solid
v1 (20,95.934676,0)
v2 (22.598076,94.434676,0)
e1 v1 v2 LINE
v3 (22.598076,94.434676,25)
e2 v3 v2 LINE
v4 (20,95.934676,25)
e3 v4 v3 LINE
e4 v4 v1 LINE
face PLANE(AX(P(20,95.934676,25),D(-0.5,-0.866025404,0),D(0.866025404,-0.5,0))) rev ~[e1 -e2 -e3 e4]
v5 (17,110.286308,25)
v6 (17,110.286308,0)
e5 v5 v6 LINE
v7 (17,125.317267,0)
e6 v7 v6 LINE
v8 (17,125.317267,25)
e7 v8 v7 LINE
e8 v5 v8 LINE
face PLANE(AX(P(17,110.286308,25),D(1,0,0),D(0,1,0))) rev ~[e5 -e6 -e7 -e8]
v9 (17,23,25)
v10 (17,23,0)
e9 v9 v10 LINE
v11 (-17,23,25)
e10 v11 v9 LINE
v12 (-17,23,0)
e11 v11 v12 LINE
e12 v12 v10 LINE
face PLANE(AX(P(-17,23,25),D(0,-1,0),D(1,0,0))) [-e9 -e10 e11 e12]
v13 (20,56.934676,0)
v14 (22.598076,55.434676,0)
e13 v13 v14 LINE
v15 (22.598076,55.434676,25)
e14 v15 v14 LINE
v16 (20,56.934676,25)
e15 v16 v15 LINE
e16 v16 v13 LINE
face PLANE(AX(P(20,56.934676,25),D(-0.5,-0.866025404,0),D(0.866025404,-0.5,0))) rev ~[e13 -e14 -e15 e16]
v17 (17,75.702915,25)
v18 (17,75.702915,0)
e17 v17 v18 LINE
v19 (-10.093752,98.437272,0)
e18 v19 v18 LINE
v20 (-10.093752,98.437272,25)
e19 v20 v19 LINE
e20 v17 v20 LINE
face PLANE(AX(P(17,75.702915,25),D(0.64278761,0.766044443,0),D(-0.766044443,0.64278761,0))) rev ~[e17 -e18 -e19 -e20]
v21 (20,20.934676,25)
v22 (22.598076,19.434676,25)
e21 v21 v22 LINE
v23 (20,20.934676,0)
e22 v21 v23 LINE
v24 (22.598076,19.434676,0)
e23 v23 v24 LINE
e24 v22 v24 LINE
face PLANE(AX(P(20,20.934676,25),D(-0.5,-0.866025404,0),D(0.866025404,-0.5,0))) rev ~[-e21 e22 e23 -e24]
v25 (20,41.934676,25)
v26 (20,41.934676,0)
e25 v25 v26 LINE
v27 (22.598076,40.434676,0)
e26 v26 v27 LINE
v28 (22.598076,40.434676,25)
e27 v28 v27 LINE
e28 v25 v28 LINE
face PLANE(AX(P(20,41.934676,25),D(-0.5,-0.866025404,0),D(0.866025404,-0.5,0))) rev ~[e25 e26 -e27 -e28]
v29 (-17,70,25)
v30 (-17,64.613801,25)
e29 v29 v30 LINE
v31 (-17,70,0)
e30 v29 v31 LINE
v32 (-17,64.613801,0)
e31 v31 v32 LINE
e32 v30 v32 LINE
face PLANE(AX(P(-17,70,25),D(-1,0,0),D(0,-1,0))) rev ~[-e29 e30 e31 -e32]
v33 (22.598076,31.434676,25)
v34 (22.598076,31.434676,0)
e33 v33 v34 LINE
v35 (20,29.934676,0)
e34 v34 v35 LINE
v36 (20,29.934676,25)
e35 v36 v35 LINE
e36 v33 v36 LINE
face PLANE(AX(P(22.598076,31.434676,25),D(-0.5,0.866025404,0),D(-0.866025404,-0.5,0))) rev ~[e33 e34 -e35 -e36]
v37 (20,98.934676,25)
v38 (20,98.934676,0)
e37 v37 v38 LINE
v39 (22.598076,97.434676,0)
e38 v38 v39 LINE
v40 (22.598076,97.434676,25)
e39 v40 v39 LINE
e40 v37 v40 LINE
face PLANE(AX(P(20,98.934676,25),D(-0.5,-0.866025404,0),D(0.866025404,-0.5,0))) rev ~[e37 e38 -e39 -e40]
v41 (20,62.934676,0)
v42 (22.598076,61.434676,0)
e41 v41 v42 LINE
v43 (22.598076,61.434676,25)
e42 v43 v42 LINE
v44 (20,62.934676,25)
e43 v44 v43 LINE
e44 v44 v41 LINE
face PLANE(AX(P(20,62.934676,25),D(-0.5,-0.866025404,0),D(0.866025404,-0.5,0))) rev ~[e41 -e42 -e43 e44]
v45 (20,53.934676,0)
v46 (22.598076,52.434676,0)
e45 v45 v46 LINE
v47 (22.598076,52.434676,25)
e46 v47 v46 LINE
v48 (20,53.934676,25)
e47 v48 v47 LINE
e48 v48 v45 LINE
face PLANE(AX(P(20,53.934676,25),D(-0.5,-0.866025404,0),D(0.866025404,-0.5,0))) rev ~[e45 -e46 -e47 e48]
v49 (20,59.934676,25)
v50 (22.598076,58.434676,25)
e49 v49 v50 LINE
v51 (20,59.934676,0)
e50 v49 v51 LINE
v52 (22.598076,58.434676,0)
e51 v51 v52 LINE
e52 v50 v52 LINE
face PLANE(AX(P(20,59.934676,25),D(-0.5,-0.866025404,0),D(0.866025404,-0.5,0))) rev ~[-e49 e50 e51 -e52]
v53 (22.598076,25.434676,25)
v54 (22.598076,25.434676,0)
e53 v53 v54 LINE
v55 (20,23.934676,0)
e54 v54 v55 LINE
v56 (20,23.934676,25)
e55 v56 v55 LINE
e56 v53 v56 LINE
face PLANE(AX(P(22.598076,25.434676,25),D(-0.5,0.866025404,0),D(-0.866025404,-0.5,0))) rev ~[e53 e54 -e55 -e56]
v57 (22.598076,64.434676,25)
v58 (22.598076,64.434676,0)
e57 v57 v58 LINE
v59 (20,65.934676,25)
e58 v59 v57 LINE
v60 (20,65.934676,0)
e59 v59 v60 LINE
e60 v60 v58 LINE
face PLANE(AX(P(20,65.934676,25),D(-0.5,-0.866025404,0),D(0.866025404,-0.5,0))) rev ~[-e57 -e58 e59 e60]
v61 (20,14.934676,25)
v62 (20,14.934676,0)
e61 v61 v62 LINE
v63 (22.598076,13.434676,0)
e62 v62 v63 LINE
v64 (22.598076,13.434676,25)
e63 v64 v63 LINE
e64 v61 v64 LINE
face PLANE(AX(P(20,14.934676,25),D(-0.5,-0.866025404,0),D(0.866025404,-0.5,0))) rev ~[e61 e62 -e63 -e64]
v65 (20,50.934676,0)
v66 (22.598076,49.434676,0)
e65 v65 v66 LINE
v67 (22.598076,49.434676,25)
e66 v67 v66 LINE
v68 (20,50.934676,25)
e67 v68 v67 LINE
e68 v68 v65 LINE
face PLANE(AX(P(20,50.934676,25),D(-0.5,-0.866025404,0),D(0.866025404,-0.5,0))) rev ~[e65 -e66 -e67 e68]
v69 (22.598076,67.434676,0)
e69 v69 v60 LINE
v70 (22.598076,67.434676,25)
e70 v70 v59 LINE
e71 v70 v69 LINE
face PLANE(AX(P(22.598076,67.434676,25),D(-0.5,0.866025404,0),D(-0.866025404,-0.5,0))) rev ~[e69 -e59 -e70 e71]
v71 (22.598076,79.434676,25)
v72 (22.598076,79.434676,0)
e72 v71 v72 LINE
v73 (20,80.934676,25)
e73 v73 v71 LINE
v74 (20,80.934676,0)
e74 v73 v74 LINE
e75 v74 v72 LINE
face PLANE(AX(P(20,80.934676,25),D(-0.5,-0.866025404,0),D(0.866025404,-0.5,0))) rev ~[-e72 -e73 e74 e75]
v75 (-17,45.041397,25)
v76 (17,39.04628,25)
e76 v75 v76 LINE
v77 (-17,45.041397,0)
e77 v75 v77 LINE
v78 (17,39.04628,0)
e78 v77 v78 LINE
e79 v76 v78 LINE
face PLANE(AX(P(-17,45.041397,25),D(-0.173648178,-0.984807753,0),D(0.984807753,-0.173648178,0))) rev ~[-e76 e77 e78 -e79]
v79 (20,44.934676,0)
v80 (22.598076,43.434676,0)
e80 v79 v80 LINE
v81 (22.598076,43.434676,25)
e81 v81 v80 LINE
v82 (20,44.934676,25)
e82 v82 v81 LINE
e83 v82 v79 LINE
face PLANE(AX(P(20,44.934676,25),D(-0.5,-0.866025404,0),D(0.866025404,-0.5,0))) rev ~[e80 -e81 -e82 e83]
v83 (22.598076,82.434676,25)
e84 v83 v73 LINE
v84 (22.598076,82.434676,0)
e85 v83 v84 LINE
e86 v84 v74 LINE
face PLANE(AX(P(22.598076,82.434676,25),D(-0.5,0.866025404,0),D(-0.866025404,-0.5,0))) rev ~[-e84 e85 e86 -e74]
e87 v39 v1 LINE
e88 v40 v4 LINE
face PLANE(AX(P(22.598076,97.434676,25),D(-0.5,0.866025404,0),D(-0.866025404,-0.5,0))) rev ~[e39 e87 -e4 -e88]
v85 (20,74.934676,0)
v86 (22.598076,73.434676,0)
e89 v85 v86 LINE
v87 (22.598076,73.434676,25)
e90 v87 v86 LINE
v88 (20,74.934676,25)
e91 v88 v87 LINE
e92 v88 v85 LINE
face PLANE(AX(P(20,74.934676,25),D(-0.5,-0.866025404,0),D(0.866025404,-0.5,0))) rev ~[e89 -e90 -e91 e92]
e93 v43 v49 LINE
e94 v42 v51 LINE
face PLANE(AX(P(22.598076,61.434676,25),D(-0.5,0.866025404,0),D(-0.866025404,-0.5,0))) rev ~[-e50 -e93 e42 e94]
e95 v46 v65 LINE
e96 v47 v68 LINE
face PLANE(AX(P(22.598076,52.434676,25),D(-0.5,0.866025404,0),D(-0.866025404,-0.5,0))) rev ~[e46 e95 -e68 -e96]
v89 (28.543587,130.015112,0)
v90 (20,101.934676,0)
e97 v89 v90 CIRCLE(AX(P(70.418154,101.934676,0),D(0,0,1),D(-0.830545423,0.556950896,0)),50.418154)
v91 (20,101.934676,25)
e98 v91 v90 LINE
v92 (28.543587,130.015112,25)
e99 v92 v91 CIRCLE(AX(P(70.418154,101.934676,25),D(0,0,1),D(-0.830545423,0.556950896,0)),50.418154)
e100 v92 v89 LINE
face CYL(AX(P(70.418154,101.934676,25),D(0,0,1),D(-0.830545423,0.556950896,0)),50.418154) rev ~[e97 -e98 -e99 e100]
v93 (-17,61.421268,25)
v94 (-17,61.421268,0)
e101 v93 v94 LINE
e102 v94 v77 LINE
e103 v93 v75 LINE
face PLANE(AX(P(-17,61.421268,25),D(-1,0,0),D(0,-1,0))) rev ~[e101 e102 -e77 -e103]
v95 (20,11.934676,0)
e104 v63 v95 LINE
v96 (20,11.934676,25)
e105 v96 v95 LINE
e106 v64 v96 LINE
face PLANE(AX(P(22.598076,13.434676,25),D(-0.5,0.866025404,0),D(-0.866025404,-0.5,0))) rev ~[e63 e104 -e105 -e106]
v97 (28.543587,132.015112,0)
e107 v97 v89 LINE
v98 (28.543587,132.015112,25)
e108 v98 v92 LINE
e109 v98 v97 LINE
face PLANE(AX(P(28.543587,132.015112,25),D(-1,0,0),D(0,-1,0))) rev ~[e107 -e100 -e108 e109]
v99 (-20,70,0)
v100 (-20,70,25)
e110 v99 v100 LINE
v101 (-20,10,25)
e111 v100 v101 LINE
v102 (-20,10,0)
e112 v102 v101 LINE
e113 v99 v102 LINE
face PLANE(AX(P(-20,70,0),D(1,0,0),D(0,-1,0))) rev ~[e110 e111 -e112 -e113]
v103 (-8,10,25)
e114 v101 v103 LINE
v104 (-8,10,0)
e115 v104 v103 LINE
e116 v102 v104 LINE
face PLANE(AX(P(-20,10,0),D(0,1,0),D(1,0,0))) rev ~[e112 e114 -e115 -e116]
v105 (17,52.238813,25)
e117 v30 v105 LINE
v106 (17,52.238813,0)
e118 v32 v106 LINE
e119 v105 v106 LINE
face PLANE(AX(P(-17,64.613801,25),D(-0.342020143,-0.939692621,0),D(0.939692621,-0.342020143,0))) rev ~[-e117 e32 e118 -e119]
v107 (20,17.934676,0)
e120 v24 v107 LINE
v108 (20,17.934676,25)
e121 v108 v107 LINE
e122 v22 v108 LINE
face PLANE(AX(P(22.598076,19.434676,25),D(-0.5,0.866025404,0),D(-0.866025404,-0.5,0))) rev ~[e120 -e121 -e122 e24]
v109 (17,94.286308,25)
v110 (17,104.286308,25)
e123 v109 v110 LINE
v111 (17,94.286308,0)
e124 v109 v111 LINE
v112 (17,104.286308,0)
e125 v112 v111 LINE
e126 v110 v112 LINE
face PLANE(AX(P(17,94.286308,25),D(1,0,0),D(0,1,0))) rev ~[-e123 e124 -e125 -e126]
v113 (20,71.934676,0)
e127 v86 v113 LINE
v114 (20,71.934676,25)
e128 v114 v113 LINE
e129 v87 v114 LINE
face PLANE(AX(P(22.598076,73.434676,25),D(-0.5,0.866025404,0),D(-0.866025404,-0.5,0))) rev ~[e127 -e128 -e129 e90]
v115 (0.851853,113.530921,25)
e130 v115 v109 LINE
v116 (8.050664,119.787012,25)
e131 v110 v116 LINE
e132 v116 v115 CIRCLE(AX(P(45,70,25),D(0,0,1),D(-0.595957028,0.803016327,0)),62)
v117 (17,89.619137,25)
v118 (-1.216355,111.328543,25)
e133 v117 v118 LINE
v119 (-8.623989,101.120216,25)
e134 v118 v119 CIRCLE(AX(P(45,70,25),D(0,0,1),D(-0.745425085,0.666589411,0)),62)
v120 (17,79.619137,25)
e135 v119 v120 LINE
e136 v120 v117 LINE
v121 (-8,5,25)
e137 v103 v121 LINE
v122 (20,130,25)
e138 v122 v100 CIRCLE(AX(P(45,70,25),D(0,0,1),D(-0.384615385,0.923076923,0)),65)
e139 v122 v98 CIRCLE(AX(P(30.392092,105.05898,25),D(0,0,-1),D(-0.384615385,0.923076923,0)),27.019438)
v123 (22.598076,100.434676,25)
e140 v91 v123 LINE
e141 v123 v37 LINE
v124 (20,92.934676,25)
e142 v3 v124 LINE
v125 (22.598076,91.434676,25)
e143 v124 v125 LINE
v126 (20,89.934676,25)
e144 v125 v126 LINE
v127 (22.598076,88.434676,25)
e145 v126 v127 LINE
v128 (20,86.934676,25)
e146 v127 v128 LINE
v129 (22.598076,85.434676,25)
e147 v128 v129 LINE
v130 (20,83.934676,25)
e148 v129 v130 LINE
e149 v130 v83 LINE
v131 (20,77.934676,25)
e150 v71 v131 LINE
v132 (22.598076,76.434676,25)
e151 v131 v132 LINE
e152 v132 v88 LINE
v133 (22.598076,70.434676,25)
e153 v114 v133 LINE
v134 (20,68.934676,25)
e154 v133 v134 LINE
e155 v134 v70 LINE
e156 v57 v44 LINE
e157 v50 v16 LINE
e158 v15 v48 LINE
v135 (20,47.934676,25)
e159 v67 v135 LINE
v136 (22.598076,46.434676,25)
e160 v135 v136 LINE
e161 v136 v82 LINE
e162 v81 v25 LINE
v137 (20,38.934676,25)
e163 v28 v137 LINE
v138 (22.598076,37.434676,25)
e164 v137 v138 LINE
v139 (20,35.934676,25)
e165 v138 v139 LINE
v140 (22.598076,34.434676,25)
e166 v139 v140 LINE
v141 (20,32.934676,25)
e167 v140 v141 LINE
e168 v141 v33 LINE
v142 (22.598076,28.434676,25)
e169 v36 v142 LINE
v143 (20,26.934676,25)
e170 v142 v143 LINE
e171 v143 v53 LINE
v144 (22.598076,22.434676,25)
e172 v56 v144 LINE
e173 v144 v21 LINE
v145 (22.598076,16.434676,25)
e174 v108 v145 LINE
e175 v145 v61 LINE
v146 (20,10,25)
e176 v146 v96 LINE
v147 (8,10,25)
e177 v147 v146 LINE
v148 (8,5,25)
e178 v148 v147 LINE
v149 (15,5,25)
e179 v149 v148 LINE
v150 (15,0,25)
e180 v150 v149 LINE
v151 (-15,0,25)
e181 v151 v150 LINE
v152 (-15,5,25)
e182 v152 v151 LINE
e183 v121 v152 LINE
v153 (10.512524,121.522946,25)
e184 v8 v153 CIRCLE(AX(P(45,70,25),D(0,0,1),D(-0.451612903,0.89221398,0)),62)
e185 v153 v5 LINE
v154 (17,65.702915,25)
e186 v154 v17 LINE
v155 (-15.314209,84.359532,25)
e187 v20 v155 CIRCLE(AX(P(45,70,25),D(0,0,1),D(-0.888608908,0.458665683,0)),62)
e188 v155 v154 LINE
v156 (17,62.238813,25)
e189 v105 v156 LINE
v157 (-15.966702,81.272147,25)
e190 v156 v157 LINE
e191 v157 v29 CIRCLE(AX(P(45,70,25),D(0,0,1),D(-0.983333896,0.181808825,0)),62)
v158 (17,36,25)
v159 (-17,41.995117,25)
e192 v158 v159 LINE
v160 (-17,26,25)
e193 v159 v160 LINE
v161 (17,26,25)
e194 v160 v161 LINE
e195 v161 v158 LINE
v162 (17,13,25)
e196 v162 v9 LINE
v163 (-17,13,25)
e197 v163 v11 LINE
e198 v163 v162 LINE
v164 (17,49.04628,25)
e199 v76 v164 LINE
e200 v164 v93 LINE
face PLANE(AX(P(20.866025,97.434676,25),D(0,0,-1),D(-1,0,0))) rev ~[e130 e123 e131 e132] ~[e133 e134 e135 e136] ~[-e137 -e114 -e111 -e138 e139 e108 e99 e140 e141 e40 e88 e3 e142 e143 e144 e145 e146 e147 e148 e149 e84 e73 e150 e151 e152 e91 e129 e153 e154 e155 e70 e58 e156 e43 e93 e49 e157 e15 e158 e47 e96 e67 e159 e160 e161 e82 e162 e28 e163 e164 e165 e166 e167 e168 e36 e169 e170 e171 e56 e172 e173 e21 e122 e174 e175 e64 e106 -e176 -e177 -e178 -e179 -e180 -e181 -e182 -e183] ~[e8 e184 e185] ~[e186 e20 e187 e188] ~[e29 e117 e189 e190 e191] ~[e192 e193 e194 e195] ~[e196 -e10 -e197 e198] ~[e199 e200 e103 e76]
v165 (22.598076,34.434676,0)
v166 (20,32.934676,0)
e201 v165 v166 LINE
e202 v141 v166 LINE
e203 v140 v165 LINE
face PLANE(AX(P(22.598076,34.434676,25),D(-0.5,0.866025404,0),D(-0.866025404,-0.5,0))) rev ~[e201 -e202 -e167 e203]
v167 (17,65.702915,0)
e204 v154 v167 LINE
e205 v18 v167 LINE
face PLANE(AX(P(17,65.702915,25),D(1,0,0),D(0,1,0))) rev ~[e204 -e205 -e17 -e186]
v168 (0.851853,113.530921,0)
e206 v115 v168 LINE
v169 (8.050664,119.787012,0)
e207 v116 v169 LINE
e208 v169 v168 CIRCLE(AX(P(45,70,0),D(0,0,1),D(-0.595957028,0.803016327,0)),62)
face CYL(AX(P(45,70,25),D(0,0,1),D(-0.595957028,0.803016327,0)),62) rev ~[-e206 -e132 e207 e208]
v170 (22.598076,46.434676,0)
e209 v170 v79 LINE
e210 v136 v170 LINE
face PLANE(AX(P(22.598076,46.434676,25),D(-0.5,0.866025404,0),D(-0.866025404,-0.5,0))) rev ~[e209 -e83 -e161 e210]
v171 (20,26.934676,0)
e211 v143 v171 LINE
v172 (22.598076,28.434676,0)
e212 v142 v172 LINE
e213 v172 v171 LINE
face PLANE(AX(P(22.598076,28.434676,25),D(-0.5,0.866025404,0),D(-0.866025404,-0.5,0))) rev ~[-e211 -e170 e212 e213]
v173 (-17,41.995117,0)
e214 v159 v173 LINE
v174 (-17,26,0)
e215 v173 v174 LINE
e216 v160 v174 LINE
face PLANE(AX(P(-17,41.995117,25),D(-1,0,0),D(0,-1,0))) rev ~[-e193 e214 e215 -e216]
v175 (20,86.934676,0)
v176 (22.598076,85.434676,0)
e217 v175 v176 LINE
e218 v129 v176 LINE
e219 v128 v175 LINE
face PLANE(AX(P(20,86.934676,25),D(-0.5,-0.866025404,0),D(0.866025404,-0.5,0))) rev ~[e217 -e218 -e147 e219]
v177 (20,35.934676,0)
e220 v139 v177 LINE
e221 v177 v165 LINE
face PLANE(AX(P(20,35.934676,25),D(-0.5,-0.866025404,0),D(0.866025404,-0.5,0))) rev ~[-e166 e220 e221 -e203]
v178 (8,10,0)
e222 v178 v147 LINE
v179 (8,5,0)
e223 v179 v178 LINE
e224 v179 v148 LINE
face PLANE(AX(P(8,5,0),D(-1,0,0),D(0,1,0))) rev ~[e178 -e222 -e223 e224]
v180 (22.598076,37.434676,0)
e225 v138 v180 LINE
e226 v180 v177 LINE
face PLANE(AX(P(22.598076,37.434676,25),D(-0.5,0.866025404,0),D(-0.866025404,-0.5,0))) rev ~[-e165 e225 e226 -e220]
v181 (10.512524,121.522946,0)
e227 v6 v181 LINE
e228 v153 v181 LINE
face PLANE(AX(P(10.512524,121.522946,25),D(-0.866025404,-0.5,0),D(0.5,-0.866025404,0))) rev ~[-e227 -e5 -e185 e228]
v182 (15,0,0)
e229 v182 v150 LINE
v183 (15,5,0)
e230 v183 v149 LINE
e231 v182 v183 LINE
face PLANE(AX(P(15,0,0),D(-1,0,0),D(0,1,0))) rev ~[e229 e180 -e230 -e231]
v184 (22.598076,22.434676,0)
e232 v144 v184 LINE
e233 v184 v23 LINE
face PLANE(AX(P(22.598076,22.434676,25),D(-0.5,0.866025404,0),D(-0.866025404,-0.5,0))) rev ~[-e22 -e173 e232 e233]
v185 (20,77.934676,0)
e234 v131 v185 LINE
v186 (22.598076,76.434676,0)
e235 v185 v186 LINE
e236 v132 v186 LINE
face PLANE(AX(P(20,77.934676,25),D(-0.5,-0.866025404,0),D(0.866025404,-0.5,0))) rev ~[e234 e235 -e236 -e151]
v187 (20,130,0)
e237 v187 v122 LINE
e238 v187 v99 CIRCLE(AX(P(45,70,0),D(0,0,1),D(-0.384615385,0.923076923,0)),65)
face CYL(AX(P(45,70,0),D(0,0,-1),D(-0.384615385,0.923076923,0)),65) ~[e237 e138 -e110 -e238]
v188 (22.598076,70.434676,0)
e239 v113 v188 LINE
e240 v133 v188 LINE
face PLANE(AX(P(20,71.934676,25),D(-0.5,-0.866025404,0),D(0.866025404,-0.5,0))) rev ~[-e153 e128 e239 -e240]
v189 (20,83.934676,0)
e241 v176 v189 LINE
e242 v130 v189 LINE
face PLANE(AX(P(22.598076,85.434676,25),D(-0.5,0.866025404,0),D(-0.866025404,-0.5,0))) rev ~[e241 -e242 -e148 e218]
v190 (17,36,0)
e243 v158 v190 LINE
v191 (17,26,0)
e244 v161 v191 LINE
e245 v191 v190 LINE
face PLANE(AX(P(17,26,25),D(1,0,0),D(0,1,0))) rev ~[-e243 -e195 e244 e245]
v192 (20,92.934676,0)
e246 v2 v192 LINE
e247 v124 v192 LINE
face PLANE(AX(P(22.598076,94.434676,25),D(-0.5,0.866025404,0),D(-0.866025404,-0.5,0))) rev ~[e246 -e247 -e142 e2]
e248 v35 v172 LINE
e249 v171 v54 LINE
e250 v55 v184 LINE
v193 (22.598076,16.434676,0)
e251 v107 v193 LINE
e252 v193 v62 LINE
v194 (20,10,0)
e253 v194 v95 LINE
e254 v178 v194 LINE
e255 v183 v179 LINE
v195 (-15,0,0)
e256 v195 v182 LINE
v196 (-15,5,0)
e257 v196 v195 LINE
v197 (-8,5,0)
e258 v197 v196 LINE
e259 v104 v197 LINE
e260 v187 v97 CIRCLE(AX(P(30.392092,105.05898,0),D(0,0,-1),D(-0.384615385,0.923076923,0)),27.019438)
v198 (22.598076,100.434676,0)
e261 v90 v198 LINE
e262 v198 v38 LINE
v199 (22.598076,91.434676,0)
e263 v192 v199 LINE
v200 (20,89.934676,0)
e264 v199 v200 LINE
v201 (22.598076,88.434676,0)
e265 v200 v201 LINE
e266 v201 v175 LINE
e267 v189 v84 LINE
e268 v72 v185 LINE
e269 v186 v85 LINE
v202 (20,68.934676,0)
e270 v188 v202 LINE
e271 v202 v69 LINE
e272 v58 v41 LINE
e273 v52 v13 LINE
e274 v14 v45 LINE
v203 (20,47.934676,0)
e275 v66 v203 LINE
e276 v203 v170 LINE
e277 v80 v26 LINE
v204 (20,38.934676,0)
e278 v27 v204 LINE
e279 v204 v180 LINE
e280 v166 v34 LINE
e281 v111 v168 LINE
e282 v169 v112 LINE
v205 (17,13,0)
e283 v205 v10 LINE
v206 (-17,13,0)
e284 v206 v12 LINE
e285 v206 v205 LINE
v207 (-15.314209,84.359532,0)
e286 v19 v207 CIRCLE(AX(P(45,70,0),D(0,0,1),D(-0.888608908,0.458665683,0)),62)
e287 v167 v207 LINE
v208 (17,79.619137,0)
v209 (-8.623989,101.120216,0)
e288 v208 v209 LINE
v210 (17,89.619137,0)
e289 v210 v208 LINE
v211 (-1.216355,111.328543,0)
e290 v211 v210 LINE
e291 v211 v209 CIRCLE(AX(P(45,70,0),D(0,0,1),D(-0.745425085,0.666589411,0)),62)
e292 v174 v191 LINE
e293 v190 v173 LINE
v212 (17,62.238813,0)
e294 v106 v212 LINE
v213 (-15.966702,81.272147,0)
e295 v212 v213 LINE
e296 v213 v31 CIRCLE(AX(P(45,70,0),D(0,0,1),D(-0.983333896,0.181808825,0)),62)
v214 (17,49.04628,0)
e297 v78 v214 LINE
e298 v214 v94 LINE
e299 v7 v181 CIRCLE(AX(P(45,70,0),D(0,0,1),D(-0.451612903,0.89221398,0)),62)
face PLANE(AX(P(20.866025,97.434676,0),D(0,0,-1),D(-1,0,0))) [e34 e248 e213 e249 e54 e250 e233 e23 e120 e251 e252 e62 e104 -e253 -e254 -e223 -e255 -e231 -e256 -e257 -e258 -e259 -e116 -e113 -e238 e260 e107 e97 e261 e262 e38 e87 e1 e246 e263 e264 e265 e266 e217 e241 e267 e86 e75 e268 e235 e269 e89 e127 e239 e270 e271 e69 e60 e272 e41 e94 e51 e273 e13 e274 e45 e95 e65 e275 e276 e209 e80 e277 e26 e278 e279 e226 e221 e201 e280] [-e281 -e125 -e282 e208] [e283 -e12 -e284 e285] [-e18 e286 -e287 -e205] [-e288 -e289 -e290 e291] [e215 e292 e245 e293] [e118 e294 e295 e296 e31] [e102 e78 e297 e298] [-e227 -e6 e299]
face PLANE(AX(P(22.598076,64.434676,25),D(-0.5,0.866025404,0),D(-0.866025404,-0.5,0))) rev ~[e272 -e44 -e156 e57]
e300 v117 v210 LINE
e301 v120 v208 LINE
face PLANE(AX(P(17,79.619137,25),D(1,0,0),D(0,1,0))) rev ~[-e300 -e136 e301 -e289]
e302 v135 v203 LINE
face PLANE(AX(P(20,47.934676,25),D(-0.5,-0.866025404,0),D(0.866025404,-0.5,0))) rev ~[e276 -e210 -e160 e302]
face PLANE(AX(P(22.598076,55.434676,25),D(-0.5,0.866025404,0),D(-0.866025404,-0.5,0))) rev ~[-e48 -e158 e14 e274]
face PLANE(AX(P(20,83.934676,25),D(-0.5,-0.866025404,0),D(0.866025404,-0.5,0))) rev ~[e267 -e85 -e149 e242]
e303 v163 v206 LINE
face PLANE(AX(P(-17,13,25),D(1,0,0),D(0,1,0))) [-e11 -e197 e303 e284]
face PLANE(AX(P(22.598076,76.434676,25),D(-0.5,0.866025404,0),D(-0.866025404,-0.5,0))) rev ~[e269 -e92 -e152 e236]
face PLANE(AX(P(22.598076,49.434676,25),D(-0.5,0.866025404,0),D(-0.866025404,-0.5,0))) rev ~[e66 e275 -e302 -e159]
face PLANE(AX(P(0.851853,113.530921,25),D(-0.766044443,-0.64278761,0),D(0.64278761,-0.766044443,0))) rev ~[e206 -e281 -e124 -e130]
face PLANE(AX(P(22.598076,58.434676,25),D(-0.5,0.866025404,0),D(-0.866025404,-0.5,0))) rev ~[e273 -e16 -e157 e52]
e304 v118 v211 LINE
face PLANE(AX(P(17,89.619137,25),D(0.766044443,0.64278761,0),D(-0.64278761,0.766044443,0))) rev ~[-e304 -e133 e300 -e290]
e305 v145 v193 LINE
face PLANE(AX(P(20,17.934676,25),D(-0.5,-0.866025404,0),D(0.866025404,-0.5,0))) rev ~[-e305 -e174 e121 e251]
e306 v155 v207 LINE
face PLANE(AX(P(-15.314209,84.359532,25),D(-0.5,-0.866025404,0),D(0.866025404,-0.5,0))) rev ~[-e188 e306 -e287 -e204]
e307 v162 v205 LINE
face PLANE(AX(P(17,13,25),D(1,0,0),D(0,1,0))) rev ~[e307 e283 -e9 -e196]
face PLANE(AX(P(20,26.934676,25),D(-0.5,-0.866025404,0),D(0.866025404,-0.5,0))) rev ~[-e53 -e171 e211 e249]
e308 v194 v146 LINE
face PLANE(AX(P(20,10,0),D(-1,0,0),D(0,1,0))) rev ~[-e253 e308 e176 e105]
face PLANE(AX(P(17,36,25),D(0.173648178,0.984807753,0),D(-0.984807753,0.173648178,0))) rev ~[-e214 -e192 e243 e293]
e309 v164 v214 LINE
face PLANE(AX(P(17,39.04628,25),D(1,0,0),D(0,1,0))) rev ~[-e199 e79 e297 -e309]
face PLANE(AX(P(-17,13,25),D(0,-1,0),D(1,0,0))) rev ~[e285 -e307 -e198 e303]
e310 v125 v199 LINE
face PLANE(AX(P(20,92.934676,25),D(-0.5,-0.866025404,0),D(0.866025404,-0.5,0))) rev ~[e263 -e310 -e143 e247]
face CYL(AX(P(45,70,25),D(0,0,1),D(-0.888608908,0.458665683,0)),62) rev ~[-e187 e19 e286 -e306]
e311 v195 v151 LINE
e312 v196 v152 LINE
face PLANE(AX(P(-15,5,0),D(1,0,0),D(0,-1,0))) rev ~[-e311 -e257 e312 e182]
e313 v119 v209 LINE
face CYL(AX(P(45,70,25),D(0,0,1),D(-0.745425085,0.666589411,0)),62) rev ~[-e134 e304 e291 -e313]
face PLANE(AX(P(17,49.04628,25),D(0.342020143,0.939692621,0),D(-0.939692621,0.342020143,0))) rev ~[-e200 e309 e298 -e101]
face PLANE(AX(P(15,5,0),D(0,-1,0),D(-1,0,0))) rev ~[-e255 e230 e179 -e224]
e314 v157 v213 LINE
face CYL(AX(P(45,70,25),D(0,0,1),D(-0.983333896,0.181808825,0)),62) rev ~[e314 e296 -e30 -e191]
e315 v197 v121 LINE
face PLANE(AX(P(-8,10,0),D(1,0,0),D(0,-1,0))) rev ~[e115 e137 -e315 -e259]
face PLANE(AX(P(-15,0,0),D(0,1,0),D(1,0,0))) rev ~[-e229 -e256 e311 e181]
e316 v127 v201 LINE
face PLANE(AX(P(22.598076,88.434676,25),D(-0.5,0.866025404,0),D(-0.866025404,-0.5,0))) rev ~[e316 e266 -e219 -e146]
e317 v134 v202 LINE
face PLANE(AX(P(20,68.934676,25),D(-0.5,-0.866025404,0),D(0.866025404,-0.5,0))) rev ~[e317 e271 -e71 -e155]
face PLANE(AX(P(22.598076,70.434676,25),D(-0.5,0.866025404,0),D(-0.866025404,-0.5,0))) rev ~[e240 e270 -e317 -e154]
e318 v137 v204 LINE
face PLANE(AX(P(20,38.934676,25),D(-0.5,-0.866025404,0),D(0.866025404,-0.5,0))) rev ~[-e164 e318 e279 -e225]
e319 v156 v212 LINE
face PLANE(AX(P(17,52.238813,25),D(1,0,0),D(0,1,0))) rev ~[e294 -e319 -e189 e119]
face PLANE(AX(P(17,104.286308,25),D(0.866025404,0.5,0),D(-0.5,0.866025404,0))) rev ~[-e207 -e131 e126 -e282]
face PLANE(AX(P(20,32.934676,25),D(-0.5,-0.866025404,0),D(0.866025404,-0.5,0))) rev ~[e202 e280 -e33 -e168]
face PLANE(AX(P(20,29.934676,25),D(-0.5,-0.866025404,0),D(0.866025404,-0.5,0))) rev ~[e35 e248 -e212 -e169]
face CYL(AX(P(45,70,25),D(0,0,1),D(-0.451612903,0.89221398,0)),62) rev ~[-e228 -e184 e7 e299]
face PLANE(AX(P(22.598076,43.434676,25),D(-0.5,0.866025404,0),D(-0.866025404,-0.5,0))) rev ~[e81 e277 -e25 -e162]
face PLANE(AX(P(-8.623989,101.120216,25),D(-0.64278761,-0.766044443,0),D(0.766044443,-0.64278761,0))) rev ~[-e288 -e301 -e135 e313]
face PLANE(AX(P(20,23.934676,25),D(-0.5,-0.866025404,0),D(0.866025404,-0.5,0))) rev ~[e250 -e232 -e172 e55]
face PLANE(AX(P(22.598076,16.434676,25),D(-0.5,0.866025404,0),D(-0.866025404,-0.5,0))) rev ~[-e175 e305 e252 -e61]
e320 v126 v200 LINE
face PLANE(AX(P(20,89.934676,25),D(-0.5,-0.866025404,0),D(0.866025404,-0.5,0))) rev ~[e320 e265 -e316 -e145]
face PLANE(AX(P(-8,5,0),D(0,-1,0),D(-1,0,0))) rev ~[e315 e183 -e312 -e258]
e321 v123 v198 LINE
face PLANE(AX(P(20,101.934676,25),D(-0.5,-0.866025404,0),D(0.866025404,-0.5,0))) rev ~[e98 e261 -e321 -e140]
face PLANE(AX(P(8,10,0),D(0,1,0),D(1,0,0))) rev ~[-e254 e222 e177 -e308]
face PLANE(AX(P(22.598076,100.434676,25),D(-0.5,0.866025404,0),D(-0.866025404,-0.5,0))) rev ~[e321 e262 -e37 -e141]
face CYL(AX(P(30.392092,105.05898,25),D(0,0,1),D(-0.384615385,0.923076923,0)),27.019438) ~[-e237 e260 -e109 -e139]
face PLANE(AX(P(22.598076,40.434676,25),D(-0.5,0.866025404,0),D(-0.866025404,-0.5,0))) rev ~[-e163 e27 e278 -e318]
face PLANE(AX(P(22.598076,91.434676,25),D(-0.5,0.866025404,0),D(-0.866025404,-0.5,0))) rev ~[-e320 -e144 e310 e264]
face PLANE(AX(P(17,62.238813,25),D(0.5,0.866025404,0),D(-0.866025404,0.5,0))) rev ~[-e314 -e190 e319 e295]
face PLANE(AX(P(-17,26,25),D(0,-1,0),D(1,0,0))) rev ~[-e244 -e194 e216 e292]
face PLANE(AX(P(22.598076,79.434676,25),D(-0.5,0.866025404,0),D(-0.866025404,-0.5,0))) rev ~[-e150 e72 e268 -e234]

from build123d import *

# Parameters (mm, degrees)
BOSS_EXTRUDE1_DEPTH = 25
SKETCH3_W           = 34
SKETCH3_H           = 10
CUT_EXTRUDE1_DEPTH  = 134.88427839
CUT_EXTRUDE2_DEPTH  = 134.88427839
CUT_EXTRUDE3_DEPTH  = 134.88427839
CUT_EXTRUDE4_DEPTH  = 134.88427839
BOSS_EXTRUDE2_DEPTH = 25
BOSS_EXTRUDE3_DEPTH = 25
LPATTERN1_COUNT     = 30
LPATTERN1_PITCH     = 3
CUT_EXTRUDE5_DEPTH  = 138.359842306
CUT_EXTRUDE6_DEPTH  = 138.359842306
CUT_EXTRUDE7_DEPTH  = 138.359842306
CUT_EXTRUDE8_DEPTH  = 138.359842306


with BuildPart() as part:
    # Sketch2 → Boss-Extrude1 (new body)
    with BuildSketch(Plane.XY):
        with BuildLine():
            Line((-15, 0), (15, 0))
            Line((15, 0), (15, 5))
            Line((15, 5), (8, 5))
            Line((8, 5), (8, 10))
            Line((8, 10), (20, 10))
            Line((20, 10), (20, 130))
            ThreePointArc((20, 130), (-9.083269132, 106.055512755), (-20, 70))
            Line((-20, 70), (-20, 10))
            Line((-20, 10), (-8, 10))
            Line((-8, 10), (-8, 5))
            Line((-8, 5), (-15, 5))
            Line((-15, 5), (-15, 0))
        make_face()
    extrude(amount=BOSS_EXTRUDE1_DEPTH)

    # Sketch3 → Cut-Extrude1 (cut, through all)
    with BuildSketch(Plane.XY.offset(25)):
        with Locations((0, 18)):
            Rectangle(SKETCH3_W, SKETCH3_H)
    extrude(amount=-CUT_EXTRUDE1_DEPTH, mode=Mode.SUBTRACT)

    # Sketch4 → Cut-Extrude2 (cut, through all)
    with BuildSketch(Plane.XY.offset(25)):
        Polygon((-17, 26), (17, 26), (17, 36), (-17, 41.995117344), align=None)
    extrude(amount=-CUT_EXTRUDE2_DEPTH, mode=Mode.SUBTRACT)

    # Sketch5 → Cut-Extrude3 (cut, through all)
    with BuildSketch(Plane.XY.offset(25)):
        Polygon((-17, 45.04139718), (17, 39.046279836), (17, 49.046279836), (-17, 61.421267801), align=None)
    extrude(amount=-CUT_EXTRUDE3_DEPTH, mode=Mode.SUBTRACT)

    # Sketch6 → Cut-Extrude4 (cut, through all)
    with BuildSketch(Plane.XY.offset(25)):
        with BuildLine():
            Line((-17, 64.613801118), (17, 52.238813153))
            Line((17, 52.238813153), (17, 62.238813153))
            Line((17, 62.238813153), (-15.966701553, 81.272147169))
            ThreePointArc((-15.966701553, 81.272147169), (-16.741134976, 75.659704221), (-17, 70))
            Line((-17, 70), (-17, 64.613801118))
        make_face()
    extrude(amount=-CUT_EXTRUDE4_DEPTH, mode=Mode.SUBTRACT)

    # Sketch13 → Boss-Extrude2 (add)
    with BuildSketch(Plane.XY.offset(25)):
        with BuildLine():
            Line((28.543587015, 132.015112463), (28.543587015, 130.015112463))
            ThreePointArc((28.543587015, 130.015112463), (22.183163486, 116.610368534), (20, 101.934676234))
            Line((20, 101.934676234), (20, 130))
            ThreePointArc((20, 130), (24.189413282, 131.356828362), (28.543587015, 132.015112463))
        make_face()
    extrude(amount=-BOSS_EXTRUDE2_DEPTH)

    # Sketch15 → Boss-Extrude3 (add)
    with BuildSketch(Plane.XY.offset(25)):
        Polygon((20, 101.934676234), (22.598076211, 100.434676234), (20, 98.934676234), align=None)
    boss_extrude3 = extrude(amount=-BOSS_EXTRUDE3_DEPTH)

    # LPattern1: Boss-Extrude3 ×30
    with Locations(*[(0, -i * LPATTERN1_PITCH, 0) for i in range(1, LPATTERN1_COUNT)]):
        add(boss_extrude3)

    # Sketch17 → Cut-Extrude5 (cut, through all)
    with BuildSketch(Plane.XY.offset(25)):
        with BuildLine():
            Line((-15.314209237, 84.35953217), (17, 65.702914768))
            Line((17, 65.702914768), (17, 75.702914768))
            Line((17, 75.702914768), (-10.093752299, 98.43727233))
            ThreePointArc((-10.093752299, 98.43727233), (-13.131704676, 91.557015366), (-15.314209237, 84.35953217))
        make_face()
    extrude(amount=-CUT_EXTRUDE5_DEPTH, mode=Mode.SUBTRACT)

    # Sketch18 → Cut-Extrude6 (cut, through all)
    with BuildSketch(Plane.XY.offset(25)):
        with BuildLine():
            Line((-8.623988609, 101.120216028), (17, 79.619136636))
            Line((17, 79.619136636), (17, 89.619136636))
            Line((17, 89.619136636), (-1.21635527, 111.328543473))
            ThreePointArc((-1.21635527, 111.328543473), (-5.18043497, 106.413238612), (-8.623988609, 101.120216028))
        make_face()
    extrude(amount=-CUT_EXTRUDE6_DEPTH, mode=Mode.SUBTRACT)

    # Sketch19 → Cut-Extrude7 (cut, through all)
    with BuildSketch(Plane.XY.offset(25)):
        with BuildLine():
            Line((0.851852517, 113.530920893), (17, 94.286308117))
            Line((17, 94.286308117), (17, 104.286308117))
            Line((17, 104.286308117), (8.050664287, 119.787012266))
            ThreePointArc((8.050664287, 119.787012266), (4.330784185, 116.797594863), (0.851852517, 113.530920893))
        make_face()
    extrude(amount=-CUT_EXTRUDE7_DEPTH, mode=Mode.SUBTRACT)

    # Sketch21 → Cut-Extrude8 (cut, through all)
    with BuildSketch(Plane.XY.offset(25)):
        with BuildLine():
            Line((10.512523927, 121.522946287), (17, 110.286308117))
            Line((17, 110.286308117), (17, 125.317266744))
            ThreePointArc((17, 125.317266744), (13.698715946, 123.518497892), (10.512523927, 121.522946287))
        make_face()
    extrude(amount=-CUT_EXTRUDE8_DEPTH, mode=Mode.SUBTRACT)


solid = part.part
